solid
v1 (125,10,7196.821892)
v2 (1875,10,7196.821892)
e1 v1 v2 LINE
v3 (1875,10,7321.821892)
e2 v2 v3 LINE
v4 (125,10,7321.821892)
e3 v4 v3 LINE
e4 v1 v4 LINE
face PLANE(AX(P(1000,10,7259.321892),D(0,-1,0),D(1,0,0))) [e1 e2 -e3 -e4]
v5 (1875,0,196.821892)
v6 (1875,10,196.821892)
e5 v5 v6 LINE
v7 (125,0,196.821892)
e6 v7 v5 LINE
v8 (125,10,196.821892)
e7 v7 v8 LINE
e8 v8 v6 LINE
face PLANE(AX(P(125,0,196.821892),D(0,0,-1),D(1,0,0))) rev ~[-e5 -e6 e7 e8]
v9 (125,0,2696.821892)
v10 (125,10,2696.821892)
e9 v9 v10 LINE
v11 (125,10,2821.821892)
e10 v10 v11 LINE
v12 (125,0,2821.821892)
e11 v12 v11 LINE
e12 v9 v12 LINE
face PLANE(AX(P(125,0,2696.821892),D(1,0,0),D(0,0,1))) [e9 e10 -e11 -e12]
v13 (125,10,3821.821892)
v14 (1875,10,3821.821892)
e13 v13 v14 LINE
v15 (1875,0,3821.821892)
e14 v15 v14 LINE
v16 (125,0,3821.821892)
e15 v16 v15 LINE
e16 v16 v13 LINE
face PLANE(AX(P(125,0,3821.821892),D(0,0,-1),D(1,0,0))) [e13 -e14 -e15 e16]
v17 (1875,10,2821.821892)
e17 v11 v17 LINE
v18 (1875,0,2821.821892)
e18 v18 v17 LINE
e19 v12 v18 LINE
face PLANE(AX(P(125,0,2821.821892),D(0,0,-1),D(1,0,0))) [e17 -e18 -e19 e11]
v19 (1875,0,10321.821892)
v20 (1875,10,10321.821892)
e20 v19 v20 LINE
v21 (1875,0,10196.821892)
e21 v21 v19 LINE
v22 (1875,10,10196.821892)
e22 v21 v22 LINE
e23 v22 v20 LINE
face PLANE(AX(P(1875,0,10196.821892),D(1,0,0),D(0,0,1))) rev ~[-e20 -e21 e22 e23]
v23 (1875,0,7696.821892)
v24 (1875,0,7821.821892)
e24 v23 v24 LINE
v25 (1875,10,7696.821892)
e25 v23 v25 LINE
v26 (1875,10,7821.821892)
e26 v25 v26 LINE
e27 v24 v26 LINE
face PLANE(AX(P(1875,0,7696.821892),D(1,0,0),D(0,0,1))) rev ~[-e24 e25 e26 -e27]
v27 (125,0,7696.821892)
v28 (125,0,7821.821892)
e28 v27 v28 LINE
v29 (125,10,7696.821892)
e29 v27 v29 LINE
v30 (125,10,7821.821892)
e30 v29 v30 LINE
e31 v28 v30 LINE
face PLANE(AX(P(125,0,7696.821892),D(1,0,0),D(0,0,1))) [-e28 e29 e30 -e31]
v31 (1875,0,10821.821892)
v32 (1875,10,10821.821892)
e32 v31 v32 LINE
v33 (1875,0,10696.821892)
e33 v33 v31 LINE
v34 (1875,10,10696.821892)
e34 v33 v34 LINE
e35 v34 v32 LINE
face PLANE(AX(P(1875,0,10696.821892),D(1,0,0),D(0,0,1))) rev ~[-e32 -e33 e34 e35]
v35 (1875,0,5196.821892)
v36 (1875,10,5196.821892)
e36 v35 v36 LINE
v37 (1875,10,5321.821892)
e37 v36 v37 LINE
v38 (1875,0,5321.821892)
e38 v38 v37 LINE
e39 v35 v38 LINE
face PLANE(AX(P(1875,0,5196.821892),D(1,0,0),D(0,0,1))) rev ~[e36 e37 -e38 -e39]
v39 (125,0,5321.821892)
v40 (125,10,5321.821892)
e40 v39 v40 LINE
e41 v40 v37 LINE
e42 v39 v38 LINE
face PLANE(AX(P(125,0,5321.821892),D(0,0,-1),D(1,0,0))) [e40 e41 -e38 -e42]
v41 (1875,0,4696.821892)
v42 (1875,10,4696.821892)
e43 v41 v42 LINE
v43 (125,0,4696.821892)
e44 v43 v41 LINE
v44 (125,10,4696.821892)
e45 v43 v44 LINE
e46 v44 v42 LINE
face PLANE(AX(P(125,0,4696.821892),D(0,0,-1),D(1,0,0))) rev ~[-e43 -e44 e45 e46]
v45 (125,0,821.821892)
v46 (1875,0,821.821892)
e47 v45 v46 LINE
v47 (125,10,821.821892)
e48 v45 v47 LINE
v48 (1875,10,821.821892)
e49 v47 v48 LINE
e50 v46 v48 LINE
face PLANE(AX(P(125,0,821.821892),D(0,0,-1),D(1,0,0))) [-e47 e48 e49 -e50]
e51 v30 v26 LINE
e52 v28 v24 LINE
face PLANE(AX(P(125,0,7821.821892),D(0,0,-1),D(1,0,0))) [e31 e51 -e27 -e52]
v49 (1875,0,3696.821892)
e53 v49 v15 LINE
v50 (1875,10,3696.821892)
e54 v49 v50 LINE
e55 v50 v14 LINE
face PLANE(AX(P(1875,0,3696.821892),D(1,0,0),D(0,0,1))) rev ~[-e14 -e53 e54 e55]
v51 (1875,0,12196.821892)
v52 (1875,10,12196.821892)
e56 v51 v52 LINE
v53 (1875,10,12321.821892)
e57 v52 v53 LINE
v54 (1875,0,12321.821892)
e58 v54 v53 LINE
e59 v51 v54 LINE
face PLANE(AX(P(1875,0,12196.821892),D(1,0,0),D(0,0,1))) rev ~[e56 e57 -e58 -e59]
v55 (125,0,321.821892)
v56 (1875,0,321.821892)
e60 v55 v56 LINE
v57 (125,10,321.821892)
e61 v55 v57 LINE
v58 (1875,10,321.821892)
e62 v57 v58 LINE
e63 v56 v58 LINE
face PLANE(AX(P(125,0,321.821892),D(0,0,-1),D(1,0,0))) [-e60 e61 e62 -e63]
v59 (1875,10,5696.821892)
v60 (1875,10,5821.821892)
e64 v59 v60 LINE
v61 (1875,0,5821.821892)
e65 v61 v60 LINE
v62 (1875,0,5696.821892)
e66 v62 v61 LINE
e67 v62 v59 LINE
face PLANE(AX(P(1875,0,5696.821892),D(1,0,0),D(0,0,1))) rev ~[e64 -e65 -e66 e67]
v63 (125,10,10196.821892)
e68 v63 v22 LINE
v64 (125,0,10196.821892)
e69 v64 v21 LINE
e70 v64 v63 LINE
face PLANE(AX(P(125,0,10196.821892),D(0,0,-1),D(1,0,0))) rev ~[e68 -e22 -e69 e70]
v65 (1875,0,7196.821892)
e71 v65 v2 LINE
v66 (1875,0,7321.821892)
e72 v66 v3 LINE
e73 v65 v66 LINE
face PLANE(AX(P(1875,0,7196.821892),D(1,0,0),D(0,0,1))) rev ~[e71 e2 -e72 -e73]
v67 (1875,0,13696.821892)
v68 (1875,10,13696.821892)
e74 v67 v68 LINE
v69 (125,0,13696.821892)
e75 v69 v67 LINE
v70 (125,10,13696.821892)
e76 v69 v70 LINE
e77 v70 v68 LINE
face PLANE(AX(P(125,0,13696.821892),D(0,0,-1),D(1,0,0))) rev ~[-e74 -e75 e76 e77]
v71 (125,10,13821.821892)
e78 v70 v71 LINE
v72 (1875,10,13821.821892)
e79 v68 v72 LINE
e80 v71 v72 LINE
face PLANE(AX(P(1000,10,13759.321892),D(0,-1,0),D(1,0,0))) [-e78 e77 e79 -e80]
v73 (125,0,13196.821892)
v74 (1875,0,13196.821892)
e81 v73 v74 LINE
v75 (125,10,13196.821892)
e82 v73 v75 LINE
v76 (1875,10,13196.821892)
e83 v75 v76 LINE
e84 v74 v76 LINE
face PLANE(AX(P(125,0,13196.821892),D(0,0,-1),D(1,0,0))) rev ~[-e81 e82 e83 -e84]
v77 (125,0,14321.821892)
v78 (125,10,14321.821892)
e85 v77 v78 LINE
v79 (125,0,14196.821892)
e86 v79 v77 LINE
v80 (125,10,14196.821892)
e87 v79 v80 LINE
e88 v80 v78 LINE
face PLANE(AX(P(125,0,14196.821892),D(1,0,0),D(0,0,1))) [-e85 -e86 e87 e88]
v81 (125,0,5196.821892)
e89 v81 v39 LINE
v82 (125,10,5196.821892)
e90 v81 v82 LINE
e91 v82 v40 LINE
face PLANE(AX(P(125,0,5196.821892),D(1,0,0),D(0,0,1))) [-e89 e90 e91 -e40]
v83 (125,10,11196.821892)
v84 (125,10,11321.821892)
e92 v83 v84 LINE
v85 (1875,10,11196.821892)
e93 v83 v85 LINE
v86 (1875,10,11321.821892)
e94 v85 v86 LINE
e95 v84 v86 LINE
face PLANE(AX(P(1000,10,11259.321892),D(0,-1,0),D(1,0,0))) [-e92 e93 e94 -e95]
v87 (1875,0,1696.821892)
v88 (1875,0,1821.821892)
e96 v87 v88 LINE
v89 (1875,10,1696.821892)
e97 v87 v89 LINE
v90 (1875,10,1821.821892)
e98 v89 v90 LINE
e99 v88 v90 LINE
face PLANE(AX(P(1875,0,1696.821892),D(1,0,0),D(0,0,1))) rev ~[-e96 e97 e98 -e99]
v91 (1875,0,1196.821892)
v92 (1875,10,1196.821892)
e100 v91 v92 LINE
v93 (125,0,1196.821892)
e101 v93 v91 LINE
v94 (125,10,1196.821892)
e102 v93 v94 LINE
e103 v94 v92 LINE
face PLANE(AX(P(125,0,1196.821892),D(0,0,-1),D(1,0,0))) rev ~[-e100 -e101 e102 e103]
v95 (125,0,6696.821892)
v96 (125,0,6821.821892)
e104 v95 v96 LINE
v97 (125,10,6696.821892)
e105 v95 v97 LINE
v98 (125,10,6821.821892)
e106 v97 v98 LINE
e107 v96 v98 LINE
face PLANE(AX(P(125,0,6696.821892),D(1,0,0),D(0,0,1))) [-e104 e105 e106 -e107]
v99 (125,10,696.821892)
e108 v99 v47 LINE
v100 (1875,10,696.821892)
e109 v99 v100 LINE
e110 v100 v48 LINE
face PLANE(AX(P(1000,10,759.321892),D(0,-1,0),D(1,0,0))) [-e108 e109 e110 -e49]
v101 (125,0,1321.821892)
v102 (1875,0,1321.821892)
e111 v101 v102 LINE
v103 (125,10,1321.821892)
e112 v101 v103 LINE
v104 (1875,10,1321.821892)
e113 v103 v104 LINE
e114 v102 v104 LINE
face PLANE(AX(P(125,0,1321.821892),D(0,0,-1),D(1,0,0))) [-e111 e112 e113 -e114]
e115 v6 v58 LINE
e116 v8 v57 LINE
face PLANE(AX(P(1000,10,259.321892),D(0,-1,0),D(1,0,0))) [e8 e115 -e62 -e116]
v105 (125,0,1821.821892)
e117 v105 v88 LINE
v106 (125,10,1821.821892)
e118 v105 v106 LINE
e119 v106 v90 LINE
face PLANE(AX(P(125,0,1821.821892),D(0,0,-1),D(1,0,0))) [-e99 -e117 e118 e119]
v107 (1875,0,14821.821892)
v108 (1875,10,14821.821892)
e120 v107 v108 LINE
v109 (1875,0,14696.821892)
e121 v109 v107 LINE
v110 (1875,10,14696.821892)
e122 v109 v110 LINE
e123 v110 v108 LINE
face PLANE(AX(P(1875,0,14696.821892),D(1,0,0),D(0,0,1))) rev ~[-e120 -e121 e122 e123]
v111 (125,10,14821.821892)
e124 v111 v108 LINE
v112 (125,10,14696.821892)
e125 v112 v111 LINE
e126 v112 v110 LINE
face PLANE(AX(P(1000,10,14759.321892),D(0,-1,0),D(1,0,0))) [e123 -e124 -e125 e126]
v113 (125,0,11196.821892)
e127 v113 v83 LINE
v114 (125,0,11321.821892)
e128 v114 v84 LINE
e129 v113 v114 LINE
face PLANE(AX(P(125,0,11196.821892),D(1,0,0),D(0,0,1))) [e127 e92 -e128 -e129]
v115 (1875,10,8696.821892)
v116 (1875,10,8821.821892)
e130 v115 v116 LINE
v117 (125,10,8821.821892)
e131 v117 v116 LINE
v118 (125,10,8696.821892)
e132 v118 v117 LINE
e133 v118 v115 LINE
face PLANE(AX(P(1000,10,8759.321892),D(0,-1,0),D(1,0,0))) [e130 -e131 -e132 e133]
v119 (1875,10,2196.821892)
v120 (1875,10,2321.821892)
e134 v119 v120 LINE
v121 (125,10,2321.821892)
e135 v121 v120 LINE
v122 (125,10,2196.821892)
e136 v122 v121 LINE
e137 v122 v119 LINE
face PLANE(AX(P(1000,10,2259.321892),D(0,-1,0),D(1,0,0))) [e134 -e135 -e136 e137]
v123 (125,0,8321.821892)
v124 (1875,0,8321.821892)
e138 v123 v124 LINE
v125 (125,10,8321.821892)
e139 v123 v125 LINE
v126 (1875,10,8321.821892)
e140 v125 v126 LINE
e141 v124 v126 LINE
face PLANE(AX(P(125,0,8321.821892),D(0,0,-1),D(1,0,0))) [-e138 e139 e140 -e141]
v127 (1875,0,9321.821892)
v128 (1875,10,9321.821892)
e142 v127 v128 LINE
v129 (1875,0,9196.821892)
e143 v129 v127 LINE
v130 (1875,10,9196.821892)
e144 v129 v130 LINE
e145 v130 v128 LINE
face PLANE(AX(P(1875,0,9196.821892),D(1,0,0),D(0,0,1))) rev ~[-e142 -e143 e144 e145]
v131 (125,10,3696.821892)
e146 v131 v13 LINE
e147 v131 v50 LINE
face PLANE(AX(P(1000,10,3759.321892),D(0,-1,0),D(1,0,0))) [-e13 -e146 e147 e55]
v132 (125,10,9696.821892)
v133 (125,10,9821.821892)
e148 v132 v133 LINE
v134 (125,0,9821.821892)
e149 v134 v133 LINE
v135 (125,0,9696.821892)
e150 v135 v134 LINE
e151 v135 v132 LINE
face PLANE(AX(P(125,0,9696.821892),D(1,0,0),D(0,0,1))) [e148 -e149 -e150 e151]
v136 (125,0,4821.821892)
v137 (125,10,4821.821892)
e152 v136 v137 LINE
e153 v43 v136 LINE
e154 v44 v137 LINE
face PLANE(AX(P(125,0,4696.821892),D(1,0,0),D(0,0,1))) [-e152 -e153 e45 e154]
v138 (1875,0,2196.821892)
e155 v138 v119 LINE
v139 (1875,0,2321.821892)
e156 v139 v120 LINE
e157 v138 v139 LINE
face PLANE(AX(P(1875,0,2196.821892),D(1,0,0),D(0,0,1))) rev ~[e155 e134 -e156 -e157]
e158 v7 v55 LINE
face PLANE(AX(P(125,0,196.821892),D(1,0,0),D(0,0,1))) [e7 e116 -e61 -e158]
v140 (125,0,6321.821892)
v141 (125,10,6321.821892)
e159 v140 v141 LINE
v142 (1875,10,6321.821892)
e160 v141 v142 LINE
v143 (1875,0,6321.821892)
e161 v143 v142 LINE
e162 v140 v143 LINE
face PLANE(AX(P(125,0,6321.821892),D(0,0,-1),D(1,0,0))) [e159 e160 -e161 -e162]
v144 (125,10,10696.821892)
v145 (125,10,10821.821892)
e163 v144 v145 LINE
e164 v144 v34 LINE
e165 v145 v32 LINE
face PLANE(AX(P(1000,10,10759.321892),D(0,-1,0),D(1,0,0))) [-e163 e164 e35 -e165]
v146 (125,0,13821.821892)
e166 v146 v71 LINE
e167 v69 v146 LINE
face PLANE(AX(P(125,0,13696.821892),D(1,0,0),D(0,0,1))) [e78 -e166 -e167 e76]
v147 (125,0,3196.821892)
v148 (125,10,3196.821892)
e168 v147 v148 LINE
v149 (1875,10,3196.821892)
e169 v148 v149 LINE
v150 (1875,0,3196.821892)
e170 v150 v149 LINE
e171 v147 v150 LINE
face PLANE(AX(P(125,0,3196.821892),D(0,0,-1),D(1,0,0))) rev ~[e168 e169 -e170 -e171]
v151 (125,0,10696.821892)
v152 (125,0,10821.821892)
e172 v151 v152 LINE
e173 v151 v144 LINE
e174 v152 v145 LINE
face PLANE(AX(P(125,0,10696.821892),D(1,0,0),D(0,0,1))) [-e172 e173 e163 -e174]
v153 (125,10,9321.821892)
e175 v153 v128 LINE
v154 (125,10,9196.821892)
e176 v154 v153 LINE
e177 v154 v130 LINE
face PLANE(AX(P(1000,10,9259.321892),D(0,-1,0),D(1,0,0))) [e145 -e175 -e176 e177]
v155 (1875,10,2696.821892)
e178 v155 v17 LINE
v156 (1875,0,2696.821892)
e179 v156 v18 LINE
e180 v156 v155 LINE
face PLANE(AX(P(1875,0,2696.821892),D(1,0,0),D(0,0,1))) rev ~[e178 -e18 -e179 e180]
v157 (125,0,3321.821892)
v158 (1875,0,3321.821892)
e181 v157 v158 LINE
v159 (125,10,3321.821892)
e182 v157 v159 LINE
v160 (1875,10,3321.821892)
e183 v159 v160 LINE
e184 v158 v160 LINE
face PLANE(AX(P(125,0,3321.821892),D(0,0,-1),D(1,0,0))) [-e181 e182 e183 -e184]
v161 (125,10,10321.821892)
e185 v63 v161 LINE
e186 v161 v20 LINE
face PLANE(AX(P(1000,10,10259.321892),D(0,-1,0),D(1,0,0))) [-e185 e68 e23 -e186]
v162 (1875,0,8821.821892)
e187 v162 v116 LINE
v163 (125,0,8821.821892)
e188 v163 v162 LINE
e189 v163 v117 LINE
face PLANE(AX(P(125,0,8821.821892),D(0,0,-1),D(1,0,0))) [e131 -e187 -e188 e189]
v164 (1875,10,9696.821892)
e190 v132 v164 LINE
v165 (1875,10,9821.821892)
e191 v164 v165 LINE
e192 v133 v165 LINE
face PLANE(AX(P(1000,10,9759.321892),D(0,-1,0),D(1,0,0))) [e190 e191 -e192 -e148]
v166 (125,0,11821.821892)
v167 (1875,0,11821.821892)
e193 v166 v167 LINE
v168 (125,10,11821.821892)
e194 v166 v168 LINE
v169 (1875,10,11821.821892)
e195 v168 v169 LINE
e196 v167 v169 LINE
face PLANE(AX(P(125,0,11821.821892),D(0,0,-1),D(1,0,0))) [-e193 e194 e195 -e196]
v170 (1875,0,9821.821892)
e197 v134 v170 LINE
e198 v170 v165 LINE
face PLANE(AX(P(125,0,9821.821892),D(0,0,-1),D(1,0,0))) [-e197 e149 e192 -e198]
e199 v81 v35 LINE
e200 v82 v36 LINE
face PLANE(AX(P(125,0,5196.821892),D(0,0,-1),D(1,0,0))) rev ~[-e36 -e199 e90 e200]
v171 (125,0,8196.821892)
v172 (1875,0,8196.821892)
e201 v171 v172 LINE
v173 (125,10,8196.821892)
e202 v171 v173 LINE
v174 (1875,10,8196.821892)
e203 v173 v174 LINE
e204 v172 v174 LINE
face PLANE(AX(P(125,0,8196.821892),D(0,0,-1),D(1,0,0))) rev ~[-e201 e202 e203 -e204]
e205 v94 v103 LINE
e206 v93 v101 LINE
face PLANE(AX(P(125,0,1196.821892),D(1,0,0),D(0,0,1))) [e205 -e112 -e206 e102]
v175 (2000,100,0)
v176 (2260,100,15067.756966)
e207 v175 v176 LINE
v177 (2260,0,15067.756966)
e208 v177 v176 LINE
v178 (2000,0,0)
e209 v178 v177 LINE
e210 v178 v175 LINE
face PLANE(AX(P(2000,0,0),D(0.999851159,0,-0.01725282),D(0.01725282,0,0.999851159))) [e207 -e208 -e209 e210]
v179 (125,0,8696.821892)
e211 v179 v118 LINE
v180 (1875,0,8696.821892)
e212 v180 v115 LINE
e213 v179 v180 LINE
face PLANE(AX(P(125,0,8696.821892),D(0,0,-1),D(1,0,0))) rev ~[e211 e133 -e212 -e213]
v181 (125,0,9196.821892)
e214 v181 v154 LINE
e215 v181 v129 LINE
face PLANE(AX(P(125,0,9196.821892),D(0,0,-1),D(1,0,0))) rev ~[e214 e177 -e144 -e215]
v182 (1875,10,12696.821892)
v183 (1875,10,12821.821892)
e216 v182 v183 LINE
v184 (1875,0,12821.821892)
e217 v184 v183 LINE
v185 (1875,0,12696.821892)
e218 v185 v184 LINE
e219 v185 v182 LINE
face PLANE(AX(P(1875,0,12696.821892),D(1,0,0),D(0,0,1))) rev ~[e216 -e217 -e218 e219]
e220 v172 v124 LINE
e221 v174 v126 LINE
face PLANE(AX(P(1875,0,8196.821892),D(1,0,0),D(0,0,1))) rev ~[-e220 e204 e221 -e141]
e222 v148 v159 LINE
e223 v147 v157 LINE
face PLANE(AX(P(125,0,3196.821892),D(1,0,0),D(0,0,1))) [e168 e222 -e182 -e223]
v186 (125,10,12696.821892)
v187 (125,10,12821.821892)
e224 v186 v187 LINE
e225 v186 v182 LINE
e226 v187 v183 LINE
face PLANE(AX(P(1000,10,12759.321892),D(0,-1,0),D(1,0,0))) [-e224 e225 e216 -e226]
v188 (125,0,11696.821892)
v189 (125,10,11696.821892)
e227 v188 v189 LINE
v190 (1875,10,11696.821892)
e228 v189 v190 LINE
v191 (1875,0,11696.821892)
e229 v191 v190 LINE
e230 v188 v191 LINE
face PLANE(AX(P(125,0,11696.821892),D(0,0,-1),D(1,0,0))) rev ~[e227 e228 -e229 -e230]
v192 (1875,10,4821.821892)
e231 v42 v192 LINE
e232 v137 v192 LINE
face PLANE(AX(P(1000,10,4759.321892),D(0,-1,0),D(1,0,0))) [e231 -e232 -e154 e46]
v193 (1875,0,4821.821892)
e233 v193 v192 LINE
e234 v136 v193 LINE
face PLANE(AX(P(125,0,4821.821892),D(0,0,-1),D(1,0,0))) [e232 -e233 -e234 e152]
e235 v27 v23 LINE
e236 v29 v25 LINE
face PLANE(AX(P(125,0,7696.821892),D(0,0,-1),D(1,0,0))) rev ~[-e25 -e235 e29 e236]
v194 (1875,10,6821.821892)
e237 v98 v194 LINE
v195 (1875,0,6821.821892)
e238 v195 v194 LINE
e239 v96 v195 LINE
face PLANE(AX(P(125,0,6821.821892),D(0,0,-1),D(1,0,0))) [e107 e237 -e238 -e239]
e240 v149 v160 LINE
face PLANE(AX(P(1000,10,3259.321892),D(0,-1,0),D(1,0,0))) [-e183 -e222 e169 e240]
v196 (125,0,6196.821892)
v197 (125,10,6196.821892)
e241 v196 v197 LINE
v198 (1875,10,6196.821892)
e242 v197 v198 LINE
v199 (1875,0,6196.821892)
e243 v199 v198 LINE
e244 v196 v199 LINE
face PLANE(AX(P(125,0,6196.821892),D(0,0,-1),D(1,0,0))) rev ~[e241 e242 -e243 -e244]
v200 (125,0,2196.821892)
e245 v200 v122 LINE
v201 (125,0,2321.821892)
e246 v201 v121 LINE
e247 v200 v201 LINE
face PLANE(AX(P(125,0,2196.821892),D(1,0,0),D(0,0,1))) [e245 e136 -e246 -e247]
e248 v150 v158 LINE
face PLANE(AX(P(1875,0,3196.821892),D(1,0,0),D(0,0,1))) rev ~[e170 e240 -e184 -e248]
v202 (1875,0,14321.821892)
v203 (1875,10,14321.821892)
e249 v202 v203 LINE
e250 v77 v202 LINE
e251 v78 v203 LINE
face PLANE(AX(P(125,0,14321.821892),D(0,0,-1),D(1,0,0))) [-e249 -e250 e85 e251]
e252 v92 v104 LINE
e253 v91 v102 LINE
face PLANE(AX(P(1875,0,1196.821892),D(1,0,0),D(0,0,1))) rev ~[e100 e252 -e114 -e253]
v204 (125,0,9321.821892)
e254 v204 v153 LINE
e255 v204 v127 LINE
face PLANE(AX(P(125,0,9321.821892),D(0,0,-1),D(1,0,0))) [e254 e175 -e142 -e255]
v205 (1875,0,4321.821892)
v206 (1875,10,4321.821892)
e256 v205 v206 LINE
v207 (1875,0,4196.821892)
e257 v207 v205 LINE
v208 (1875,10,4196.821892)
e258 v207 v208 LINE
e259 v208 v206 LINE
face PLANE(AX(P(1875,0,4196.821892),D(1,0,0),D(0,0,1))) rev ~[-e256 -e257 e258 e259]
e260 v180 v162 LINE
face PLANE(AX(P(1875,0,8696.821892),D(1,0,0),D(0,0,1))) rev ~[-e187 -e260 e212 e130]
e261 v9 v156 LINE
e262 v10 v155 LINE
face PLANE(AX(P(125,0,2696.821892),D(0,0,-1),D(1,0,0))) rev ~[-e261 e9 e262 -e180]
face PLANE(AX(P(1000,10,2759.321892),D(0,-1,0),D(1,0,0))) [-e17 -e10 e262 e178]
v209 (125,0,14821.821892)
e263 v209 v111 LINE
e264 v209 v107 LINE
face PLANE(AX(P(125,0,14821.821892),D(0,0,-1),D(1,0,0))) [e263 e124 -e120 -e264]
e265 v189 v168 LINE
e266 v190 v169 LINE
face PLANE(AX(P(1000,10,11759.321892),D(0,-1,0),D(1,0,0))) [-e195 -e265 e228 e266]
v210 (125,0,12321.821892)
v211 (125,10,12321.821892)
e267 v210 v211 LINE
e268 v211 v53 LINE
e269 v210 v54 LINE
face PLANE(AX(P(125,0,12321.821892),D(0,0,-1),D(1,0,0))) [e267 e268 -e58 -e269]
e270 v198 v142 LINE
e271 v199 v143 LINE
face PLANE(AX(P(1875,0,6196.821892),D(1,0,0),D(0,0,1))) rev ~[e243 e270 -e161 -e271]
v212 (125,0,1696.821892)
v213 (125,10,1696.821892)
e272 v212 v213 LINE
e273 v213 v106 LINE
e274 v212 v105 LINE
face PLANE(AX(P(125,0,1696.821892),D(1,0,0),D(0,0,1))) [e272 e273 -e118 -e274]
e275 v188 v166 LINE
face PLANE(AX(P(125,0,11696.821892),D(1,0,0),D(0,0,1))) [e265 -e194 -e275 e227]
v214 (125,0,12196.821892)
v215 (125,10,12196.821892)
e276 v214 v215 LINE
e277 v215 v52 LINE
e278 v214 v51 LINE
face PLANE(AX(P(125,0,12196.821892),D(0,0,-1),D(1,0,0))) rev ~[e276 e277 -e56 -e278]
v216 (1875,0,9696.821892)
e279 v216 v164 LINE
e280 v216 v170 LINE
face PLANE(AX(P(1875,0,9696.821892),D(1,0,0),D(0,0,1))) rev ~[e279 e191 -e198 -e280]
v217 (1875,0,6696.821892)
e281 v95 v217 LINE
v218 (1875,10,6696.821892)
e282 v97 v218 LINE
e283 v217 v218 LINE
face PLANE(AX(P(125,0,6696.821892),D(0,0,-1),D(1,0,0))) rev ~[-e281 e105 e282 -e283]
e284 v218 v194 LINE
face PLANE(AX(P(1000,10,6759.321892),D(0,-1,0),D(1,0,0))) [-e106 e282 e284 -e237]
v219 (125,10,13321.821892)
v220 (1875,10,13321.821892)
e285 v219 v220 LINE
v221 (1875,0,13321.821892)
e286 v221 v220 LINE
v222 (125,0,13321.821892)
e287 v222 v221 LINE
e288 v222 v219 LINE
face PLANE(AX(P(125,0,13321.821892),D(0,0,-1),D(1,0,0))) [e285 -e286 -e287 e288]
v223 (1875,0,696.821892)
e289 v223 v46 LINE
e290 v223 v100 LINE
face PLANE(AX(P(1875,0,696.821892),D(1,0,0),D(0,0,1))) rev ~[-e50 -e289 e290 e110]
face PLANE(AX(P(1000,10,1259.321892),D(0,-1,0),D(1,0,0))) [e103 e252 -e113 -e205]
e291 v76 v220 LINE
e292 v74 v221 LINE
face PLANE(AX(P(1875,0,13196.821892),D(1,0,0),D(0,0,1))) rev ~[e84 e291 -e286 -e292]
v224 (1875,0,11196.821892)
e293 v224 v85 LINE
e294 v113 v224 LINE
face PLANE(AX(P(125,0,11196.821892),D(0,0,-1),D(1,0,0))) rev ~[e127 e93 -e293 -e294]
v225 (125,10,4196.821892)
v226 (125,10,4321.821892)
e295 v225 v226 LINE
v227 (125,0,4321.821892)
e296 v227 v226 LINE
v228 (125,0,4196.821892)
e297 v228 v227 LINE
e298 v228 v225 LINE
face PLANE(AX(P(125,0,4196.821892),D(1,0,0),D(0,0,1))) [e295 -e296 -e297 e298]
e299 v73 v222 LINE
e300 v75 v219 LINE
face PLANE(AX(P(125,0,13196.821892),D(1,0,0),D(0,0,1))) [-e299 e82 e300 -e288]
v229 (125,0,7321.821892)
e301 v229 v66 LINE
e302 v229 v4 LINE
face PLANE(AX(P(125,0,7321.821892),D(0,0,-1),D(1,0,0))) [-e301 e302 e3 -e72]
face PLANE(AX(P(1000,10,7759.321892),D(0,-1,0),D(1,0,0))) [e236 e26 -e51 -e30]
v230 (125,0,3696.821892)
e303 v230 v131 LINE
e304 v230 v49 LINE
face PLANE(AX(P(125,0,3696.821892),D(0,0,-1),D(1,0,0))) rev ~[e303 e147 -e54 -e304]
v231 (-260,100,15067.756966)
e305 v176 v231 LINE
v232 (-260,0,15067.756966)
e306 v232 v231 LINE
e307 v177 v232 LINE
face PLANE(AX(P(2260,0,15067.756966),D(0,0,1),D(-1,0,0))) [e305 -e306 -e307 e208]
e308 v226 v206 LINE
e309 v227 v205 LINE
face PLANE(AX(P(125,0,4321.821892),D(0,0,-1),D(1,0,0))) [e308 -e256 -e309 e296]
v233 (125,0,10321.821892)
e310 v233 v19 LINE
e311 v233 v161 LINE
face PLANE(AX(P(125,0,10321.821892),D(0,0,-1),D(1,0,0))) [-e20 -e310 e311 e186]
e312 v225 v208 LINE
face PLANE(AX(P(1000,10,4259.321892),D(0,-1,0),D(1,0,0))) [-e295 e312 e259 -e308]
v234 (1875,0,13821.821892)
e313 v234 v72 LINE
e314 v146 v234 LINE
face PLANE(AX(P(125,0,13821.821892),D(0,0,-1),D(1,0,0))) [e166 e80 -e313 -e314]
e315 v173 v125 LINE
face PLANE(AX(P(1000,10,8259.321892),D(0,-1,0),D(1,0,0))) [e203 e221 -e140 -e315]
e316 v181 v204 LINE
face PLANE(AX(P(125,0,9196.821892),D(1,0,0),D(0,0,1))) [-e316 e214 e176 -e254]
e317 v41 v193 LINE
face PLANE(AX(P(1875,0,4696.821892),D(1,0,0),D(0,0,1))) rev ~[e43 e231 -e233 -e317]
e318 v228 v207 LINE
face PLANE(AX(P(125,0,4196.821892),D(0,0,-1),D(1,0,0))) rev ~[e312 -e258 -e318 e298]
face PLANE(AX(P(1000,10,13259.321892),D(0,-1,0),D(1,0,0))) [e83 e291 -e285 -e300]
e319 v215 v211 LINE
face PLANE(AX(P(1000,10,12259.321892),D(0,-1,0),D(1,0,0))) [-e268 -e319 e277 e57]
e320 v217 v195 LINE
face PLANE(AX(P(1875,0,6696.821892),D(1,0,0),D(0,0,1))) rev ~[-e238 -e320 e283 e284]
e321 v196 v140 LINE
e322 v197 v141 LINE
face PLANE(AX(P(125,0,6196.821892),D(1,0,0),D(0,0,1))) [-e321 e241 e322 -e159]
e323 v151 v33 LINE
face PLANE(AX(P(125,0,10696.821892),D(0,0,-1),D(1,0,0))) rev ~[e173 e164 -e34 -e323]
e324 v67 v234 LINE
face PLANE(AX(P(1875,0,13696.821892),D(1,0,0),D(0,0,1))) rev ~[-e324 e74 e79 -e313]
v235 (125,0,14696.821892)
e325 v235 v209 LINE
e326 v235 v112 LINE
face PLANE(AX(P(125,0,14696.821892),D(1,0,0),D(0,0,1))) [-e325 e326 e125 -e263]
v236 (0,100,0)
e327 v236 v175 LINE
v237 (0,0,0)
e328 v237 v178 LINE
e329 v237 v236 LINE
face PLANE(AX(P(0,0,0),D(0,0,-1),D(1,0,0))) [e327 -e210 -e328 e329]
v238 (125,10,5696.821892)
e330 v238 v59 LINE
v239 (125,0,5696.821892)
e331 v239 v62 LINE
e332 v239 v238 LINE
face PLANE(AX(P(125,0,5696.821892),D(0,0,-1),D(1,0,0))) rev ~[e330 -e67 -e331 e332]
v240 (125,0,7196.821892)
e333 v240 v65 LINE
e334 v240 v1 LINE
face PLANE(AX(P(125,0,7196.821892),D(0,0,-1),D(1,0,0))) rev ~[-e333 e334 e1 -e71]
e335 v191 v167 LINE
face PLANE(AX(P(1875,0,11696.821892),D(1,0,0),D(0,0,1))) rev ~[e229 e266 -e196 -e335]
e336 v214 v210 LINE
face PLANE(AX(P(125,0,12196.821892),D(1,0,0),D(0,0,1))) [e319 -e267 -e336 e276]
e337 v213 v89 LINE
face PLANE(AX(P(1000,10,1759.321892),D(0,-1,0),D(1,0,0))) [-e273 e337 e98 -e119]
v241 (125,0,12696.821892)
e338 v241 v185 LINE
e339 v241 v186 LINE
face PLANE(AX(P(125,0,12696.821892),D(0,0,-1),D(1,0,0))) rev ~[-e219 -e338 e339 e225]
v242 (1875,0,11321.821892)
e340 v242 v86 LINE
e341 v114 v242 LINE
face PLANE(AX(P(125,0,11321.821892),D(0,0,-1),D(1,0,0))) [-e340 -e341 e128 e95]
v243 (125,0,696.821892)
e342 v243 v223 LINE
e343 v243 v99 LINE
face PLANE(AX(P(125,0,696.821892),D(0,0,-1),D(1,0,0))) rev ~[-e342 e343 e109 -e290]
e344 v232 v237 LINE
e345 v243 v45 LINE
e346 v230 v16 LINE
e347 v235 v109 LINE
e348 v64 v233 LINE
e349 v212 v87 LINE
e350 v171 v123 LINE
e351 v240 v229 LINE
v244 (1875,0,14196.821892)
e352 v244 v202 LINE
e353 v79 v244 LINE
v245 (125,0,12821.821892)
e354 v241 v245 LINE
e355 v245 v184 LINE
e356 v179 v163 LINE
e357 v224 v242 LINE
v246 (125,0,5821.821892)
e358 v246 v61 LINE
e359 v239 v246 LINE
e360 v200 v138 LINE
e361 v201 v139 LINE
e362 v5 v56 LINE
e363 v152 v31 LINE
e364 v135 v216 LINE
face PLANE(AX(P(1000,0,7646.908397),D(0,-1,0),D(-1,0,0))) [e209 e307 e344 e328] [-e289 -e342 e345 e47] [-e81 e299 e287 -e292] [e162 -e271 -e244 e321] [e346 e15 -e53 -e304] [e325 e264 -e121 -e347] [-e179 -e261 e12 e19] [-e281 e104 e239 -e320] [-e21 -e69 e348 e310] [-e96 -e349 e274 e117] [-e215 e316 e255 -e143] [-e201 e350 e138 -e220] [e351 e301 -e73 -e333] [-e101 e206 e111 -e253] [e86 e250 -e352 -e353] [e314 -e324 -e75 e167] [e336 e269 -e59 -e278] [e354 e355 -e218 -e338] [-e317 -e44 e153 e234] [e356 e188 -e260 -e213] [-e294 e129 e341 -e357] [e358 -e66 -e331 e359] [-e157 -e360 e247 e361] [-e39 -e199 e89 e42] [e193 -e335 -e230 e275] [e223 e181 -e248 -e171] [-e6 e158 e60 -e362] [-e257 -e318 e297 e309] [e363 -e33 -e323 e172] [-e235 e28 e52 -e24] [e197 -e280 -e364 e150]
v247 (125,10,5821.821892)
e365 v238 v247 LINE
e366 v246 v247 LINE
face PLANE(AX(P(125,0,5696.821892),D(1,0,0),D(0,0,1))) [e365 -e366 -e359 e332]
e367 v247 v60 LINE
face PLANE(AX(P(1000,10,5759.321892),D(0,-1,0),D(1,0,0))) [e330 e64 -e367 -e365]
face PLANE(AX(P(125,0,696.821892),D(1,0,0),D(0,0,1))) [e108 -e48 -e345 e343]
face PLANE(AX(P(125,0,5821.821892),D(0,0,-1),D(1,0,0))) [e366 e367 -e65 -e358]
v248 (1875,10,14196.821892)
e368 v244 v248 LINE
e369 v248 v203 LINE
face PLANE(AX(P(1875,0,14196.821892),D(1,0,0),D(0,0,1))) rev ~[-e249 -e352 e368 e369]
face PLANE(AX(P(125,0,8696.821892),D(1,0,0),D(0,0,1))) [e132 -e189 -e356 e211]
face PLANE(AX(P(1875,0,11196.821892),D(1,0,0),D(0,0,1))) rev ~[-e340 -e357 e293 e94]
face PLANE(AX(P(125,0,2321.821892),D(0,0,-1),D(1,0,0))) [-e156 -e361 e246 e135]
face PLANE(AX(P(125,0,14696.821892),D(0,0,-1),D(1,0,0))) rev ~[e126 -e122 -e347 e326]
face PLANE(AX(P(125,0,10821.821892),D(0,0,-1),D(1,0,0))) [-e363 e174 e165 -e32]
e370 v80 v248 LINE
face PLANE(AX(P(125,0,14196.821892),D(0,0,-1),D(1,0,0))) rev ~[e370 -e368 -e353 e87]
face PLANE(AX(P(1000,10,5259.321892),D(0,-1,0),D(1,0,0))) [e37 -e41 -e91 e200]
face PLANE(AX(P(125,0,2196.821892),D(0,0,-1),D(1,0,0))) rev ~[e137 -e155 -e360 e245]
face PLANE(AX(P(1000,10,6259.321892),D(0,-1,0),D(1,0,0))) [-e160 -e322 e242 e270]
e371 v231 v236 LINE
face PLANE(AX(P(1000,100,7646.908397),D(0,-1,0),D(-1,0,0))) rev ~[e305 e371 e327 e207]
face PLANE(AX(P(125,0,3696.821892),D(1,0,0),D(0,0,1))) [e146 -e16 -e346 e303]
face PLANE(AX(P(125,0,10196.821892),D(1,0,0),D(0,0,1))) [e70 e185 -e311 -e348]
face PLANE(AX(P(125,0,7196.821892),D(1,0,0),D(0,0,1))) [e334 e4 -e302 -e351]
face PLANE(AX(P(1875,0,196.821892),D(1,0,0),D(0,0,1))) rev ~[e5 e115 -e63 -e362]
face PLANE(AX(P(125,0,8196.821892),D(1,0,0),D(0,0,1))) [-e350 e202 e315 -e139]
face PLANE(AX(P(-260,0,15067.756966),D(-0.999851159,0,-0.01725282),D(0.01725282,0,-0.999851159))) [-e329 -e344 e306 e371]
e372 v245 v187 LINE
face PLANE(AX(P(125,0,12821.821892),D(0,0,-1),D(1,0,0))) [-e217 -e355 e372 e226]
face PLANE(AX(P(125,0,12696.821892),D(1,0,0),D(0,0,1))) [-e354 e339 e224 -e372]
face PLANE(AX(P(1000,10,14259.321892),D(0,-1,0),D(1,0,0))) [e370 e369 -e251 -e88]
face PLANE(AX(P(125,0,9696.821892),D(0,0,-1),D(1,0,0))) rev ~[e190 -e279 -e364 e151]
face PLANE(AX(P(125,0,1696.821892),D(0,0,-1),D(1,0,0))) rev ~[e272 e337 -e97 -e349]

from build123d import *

# Parameters (mm, degrees)
BOSS_EXTRUDE1_DEPTH = 100
SKETCH2_W           = 1750
SKETCH2_H           = 125
CUT_EXTRUDE1_DEPTH  = 10
LPATTERN1_COUNT     = 30
LPATTERN1_PITCH     = 500


with BuildPart() as part:
    # Sketch1 → Boss-Extrude1 (new body)
    with BuildSketch(Plane(origin=(0, 0, 0), x_dir=(1, 0, 0), z_dir=(0, 1, 0))):
        Polygon((0, 0), (2000, 0), (2260, -15067.75696645), (-260, -15067.75696645), align=None)
    extrude(amount=BOSS_EXTRUDE1_DEPTH)

    # Sketch2 → Cut-Extrude1 (cut)
    with BuildSketch(Plane.XZ):
        with Locations((1000, 14759.321892241)):
            Rectangle(SKETCH2_W, SKETCH2_H)
    cut_extrude1 = extrude(amount=-CUT_EXTRUDE1_DEPTH, mode=Mode.SUBTRACT)

    # LPattern1: Cut-Extrude1 ×30
    with Locations(*[(0, 0, -i * LPATTERN1_PITCH) for i in range(1, LPATTERN1_COUNT)]):
        add(cut_extrude1, mode=Mode.SUBTRACT)


solid = part.part
